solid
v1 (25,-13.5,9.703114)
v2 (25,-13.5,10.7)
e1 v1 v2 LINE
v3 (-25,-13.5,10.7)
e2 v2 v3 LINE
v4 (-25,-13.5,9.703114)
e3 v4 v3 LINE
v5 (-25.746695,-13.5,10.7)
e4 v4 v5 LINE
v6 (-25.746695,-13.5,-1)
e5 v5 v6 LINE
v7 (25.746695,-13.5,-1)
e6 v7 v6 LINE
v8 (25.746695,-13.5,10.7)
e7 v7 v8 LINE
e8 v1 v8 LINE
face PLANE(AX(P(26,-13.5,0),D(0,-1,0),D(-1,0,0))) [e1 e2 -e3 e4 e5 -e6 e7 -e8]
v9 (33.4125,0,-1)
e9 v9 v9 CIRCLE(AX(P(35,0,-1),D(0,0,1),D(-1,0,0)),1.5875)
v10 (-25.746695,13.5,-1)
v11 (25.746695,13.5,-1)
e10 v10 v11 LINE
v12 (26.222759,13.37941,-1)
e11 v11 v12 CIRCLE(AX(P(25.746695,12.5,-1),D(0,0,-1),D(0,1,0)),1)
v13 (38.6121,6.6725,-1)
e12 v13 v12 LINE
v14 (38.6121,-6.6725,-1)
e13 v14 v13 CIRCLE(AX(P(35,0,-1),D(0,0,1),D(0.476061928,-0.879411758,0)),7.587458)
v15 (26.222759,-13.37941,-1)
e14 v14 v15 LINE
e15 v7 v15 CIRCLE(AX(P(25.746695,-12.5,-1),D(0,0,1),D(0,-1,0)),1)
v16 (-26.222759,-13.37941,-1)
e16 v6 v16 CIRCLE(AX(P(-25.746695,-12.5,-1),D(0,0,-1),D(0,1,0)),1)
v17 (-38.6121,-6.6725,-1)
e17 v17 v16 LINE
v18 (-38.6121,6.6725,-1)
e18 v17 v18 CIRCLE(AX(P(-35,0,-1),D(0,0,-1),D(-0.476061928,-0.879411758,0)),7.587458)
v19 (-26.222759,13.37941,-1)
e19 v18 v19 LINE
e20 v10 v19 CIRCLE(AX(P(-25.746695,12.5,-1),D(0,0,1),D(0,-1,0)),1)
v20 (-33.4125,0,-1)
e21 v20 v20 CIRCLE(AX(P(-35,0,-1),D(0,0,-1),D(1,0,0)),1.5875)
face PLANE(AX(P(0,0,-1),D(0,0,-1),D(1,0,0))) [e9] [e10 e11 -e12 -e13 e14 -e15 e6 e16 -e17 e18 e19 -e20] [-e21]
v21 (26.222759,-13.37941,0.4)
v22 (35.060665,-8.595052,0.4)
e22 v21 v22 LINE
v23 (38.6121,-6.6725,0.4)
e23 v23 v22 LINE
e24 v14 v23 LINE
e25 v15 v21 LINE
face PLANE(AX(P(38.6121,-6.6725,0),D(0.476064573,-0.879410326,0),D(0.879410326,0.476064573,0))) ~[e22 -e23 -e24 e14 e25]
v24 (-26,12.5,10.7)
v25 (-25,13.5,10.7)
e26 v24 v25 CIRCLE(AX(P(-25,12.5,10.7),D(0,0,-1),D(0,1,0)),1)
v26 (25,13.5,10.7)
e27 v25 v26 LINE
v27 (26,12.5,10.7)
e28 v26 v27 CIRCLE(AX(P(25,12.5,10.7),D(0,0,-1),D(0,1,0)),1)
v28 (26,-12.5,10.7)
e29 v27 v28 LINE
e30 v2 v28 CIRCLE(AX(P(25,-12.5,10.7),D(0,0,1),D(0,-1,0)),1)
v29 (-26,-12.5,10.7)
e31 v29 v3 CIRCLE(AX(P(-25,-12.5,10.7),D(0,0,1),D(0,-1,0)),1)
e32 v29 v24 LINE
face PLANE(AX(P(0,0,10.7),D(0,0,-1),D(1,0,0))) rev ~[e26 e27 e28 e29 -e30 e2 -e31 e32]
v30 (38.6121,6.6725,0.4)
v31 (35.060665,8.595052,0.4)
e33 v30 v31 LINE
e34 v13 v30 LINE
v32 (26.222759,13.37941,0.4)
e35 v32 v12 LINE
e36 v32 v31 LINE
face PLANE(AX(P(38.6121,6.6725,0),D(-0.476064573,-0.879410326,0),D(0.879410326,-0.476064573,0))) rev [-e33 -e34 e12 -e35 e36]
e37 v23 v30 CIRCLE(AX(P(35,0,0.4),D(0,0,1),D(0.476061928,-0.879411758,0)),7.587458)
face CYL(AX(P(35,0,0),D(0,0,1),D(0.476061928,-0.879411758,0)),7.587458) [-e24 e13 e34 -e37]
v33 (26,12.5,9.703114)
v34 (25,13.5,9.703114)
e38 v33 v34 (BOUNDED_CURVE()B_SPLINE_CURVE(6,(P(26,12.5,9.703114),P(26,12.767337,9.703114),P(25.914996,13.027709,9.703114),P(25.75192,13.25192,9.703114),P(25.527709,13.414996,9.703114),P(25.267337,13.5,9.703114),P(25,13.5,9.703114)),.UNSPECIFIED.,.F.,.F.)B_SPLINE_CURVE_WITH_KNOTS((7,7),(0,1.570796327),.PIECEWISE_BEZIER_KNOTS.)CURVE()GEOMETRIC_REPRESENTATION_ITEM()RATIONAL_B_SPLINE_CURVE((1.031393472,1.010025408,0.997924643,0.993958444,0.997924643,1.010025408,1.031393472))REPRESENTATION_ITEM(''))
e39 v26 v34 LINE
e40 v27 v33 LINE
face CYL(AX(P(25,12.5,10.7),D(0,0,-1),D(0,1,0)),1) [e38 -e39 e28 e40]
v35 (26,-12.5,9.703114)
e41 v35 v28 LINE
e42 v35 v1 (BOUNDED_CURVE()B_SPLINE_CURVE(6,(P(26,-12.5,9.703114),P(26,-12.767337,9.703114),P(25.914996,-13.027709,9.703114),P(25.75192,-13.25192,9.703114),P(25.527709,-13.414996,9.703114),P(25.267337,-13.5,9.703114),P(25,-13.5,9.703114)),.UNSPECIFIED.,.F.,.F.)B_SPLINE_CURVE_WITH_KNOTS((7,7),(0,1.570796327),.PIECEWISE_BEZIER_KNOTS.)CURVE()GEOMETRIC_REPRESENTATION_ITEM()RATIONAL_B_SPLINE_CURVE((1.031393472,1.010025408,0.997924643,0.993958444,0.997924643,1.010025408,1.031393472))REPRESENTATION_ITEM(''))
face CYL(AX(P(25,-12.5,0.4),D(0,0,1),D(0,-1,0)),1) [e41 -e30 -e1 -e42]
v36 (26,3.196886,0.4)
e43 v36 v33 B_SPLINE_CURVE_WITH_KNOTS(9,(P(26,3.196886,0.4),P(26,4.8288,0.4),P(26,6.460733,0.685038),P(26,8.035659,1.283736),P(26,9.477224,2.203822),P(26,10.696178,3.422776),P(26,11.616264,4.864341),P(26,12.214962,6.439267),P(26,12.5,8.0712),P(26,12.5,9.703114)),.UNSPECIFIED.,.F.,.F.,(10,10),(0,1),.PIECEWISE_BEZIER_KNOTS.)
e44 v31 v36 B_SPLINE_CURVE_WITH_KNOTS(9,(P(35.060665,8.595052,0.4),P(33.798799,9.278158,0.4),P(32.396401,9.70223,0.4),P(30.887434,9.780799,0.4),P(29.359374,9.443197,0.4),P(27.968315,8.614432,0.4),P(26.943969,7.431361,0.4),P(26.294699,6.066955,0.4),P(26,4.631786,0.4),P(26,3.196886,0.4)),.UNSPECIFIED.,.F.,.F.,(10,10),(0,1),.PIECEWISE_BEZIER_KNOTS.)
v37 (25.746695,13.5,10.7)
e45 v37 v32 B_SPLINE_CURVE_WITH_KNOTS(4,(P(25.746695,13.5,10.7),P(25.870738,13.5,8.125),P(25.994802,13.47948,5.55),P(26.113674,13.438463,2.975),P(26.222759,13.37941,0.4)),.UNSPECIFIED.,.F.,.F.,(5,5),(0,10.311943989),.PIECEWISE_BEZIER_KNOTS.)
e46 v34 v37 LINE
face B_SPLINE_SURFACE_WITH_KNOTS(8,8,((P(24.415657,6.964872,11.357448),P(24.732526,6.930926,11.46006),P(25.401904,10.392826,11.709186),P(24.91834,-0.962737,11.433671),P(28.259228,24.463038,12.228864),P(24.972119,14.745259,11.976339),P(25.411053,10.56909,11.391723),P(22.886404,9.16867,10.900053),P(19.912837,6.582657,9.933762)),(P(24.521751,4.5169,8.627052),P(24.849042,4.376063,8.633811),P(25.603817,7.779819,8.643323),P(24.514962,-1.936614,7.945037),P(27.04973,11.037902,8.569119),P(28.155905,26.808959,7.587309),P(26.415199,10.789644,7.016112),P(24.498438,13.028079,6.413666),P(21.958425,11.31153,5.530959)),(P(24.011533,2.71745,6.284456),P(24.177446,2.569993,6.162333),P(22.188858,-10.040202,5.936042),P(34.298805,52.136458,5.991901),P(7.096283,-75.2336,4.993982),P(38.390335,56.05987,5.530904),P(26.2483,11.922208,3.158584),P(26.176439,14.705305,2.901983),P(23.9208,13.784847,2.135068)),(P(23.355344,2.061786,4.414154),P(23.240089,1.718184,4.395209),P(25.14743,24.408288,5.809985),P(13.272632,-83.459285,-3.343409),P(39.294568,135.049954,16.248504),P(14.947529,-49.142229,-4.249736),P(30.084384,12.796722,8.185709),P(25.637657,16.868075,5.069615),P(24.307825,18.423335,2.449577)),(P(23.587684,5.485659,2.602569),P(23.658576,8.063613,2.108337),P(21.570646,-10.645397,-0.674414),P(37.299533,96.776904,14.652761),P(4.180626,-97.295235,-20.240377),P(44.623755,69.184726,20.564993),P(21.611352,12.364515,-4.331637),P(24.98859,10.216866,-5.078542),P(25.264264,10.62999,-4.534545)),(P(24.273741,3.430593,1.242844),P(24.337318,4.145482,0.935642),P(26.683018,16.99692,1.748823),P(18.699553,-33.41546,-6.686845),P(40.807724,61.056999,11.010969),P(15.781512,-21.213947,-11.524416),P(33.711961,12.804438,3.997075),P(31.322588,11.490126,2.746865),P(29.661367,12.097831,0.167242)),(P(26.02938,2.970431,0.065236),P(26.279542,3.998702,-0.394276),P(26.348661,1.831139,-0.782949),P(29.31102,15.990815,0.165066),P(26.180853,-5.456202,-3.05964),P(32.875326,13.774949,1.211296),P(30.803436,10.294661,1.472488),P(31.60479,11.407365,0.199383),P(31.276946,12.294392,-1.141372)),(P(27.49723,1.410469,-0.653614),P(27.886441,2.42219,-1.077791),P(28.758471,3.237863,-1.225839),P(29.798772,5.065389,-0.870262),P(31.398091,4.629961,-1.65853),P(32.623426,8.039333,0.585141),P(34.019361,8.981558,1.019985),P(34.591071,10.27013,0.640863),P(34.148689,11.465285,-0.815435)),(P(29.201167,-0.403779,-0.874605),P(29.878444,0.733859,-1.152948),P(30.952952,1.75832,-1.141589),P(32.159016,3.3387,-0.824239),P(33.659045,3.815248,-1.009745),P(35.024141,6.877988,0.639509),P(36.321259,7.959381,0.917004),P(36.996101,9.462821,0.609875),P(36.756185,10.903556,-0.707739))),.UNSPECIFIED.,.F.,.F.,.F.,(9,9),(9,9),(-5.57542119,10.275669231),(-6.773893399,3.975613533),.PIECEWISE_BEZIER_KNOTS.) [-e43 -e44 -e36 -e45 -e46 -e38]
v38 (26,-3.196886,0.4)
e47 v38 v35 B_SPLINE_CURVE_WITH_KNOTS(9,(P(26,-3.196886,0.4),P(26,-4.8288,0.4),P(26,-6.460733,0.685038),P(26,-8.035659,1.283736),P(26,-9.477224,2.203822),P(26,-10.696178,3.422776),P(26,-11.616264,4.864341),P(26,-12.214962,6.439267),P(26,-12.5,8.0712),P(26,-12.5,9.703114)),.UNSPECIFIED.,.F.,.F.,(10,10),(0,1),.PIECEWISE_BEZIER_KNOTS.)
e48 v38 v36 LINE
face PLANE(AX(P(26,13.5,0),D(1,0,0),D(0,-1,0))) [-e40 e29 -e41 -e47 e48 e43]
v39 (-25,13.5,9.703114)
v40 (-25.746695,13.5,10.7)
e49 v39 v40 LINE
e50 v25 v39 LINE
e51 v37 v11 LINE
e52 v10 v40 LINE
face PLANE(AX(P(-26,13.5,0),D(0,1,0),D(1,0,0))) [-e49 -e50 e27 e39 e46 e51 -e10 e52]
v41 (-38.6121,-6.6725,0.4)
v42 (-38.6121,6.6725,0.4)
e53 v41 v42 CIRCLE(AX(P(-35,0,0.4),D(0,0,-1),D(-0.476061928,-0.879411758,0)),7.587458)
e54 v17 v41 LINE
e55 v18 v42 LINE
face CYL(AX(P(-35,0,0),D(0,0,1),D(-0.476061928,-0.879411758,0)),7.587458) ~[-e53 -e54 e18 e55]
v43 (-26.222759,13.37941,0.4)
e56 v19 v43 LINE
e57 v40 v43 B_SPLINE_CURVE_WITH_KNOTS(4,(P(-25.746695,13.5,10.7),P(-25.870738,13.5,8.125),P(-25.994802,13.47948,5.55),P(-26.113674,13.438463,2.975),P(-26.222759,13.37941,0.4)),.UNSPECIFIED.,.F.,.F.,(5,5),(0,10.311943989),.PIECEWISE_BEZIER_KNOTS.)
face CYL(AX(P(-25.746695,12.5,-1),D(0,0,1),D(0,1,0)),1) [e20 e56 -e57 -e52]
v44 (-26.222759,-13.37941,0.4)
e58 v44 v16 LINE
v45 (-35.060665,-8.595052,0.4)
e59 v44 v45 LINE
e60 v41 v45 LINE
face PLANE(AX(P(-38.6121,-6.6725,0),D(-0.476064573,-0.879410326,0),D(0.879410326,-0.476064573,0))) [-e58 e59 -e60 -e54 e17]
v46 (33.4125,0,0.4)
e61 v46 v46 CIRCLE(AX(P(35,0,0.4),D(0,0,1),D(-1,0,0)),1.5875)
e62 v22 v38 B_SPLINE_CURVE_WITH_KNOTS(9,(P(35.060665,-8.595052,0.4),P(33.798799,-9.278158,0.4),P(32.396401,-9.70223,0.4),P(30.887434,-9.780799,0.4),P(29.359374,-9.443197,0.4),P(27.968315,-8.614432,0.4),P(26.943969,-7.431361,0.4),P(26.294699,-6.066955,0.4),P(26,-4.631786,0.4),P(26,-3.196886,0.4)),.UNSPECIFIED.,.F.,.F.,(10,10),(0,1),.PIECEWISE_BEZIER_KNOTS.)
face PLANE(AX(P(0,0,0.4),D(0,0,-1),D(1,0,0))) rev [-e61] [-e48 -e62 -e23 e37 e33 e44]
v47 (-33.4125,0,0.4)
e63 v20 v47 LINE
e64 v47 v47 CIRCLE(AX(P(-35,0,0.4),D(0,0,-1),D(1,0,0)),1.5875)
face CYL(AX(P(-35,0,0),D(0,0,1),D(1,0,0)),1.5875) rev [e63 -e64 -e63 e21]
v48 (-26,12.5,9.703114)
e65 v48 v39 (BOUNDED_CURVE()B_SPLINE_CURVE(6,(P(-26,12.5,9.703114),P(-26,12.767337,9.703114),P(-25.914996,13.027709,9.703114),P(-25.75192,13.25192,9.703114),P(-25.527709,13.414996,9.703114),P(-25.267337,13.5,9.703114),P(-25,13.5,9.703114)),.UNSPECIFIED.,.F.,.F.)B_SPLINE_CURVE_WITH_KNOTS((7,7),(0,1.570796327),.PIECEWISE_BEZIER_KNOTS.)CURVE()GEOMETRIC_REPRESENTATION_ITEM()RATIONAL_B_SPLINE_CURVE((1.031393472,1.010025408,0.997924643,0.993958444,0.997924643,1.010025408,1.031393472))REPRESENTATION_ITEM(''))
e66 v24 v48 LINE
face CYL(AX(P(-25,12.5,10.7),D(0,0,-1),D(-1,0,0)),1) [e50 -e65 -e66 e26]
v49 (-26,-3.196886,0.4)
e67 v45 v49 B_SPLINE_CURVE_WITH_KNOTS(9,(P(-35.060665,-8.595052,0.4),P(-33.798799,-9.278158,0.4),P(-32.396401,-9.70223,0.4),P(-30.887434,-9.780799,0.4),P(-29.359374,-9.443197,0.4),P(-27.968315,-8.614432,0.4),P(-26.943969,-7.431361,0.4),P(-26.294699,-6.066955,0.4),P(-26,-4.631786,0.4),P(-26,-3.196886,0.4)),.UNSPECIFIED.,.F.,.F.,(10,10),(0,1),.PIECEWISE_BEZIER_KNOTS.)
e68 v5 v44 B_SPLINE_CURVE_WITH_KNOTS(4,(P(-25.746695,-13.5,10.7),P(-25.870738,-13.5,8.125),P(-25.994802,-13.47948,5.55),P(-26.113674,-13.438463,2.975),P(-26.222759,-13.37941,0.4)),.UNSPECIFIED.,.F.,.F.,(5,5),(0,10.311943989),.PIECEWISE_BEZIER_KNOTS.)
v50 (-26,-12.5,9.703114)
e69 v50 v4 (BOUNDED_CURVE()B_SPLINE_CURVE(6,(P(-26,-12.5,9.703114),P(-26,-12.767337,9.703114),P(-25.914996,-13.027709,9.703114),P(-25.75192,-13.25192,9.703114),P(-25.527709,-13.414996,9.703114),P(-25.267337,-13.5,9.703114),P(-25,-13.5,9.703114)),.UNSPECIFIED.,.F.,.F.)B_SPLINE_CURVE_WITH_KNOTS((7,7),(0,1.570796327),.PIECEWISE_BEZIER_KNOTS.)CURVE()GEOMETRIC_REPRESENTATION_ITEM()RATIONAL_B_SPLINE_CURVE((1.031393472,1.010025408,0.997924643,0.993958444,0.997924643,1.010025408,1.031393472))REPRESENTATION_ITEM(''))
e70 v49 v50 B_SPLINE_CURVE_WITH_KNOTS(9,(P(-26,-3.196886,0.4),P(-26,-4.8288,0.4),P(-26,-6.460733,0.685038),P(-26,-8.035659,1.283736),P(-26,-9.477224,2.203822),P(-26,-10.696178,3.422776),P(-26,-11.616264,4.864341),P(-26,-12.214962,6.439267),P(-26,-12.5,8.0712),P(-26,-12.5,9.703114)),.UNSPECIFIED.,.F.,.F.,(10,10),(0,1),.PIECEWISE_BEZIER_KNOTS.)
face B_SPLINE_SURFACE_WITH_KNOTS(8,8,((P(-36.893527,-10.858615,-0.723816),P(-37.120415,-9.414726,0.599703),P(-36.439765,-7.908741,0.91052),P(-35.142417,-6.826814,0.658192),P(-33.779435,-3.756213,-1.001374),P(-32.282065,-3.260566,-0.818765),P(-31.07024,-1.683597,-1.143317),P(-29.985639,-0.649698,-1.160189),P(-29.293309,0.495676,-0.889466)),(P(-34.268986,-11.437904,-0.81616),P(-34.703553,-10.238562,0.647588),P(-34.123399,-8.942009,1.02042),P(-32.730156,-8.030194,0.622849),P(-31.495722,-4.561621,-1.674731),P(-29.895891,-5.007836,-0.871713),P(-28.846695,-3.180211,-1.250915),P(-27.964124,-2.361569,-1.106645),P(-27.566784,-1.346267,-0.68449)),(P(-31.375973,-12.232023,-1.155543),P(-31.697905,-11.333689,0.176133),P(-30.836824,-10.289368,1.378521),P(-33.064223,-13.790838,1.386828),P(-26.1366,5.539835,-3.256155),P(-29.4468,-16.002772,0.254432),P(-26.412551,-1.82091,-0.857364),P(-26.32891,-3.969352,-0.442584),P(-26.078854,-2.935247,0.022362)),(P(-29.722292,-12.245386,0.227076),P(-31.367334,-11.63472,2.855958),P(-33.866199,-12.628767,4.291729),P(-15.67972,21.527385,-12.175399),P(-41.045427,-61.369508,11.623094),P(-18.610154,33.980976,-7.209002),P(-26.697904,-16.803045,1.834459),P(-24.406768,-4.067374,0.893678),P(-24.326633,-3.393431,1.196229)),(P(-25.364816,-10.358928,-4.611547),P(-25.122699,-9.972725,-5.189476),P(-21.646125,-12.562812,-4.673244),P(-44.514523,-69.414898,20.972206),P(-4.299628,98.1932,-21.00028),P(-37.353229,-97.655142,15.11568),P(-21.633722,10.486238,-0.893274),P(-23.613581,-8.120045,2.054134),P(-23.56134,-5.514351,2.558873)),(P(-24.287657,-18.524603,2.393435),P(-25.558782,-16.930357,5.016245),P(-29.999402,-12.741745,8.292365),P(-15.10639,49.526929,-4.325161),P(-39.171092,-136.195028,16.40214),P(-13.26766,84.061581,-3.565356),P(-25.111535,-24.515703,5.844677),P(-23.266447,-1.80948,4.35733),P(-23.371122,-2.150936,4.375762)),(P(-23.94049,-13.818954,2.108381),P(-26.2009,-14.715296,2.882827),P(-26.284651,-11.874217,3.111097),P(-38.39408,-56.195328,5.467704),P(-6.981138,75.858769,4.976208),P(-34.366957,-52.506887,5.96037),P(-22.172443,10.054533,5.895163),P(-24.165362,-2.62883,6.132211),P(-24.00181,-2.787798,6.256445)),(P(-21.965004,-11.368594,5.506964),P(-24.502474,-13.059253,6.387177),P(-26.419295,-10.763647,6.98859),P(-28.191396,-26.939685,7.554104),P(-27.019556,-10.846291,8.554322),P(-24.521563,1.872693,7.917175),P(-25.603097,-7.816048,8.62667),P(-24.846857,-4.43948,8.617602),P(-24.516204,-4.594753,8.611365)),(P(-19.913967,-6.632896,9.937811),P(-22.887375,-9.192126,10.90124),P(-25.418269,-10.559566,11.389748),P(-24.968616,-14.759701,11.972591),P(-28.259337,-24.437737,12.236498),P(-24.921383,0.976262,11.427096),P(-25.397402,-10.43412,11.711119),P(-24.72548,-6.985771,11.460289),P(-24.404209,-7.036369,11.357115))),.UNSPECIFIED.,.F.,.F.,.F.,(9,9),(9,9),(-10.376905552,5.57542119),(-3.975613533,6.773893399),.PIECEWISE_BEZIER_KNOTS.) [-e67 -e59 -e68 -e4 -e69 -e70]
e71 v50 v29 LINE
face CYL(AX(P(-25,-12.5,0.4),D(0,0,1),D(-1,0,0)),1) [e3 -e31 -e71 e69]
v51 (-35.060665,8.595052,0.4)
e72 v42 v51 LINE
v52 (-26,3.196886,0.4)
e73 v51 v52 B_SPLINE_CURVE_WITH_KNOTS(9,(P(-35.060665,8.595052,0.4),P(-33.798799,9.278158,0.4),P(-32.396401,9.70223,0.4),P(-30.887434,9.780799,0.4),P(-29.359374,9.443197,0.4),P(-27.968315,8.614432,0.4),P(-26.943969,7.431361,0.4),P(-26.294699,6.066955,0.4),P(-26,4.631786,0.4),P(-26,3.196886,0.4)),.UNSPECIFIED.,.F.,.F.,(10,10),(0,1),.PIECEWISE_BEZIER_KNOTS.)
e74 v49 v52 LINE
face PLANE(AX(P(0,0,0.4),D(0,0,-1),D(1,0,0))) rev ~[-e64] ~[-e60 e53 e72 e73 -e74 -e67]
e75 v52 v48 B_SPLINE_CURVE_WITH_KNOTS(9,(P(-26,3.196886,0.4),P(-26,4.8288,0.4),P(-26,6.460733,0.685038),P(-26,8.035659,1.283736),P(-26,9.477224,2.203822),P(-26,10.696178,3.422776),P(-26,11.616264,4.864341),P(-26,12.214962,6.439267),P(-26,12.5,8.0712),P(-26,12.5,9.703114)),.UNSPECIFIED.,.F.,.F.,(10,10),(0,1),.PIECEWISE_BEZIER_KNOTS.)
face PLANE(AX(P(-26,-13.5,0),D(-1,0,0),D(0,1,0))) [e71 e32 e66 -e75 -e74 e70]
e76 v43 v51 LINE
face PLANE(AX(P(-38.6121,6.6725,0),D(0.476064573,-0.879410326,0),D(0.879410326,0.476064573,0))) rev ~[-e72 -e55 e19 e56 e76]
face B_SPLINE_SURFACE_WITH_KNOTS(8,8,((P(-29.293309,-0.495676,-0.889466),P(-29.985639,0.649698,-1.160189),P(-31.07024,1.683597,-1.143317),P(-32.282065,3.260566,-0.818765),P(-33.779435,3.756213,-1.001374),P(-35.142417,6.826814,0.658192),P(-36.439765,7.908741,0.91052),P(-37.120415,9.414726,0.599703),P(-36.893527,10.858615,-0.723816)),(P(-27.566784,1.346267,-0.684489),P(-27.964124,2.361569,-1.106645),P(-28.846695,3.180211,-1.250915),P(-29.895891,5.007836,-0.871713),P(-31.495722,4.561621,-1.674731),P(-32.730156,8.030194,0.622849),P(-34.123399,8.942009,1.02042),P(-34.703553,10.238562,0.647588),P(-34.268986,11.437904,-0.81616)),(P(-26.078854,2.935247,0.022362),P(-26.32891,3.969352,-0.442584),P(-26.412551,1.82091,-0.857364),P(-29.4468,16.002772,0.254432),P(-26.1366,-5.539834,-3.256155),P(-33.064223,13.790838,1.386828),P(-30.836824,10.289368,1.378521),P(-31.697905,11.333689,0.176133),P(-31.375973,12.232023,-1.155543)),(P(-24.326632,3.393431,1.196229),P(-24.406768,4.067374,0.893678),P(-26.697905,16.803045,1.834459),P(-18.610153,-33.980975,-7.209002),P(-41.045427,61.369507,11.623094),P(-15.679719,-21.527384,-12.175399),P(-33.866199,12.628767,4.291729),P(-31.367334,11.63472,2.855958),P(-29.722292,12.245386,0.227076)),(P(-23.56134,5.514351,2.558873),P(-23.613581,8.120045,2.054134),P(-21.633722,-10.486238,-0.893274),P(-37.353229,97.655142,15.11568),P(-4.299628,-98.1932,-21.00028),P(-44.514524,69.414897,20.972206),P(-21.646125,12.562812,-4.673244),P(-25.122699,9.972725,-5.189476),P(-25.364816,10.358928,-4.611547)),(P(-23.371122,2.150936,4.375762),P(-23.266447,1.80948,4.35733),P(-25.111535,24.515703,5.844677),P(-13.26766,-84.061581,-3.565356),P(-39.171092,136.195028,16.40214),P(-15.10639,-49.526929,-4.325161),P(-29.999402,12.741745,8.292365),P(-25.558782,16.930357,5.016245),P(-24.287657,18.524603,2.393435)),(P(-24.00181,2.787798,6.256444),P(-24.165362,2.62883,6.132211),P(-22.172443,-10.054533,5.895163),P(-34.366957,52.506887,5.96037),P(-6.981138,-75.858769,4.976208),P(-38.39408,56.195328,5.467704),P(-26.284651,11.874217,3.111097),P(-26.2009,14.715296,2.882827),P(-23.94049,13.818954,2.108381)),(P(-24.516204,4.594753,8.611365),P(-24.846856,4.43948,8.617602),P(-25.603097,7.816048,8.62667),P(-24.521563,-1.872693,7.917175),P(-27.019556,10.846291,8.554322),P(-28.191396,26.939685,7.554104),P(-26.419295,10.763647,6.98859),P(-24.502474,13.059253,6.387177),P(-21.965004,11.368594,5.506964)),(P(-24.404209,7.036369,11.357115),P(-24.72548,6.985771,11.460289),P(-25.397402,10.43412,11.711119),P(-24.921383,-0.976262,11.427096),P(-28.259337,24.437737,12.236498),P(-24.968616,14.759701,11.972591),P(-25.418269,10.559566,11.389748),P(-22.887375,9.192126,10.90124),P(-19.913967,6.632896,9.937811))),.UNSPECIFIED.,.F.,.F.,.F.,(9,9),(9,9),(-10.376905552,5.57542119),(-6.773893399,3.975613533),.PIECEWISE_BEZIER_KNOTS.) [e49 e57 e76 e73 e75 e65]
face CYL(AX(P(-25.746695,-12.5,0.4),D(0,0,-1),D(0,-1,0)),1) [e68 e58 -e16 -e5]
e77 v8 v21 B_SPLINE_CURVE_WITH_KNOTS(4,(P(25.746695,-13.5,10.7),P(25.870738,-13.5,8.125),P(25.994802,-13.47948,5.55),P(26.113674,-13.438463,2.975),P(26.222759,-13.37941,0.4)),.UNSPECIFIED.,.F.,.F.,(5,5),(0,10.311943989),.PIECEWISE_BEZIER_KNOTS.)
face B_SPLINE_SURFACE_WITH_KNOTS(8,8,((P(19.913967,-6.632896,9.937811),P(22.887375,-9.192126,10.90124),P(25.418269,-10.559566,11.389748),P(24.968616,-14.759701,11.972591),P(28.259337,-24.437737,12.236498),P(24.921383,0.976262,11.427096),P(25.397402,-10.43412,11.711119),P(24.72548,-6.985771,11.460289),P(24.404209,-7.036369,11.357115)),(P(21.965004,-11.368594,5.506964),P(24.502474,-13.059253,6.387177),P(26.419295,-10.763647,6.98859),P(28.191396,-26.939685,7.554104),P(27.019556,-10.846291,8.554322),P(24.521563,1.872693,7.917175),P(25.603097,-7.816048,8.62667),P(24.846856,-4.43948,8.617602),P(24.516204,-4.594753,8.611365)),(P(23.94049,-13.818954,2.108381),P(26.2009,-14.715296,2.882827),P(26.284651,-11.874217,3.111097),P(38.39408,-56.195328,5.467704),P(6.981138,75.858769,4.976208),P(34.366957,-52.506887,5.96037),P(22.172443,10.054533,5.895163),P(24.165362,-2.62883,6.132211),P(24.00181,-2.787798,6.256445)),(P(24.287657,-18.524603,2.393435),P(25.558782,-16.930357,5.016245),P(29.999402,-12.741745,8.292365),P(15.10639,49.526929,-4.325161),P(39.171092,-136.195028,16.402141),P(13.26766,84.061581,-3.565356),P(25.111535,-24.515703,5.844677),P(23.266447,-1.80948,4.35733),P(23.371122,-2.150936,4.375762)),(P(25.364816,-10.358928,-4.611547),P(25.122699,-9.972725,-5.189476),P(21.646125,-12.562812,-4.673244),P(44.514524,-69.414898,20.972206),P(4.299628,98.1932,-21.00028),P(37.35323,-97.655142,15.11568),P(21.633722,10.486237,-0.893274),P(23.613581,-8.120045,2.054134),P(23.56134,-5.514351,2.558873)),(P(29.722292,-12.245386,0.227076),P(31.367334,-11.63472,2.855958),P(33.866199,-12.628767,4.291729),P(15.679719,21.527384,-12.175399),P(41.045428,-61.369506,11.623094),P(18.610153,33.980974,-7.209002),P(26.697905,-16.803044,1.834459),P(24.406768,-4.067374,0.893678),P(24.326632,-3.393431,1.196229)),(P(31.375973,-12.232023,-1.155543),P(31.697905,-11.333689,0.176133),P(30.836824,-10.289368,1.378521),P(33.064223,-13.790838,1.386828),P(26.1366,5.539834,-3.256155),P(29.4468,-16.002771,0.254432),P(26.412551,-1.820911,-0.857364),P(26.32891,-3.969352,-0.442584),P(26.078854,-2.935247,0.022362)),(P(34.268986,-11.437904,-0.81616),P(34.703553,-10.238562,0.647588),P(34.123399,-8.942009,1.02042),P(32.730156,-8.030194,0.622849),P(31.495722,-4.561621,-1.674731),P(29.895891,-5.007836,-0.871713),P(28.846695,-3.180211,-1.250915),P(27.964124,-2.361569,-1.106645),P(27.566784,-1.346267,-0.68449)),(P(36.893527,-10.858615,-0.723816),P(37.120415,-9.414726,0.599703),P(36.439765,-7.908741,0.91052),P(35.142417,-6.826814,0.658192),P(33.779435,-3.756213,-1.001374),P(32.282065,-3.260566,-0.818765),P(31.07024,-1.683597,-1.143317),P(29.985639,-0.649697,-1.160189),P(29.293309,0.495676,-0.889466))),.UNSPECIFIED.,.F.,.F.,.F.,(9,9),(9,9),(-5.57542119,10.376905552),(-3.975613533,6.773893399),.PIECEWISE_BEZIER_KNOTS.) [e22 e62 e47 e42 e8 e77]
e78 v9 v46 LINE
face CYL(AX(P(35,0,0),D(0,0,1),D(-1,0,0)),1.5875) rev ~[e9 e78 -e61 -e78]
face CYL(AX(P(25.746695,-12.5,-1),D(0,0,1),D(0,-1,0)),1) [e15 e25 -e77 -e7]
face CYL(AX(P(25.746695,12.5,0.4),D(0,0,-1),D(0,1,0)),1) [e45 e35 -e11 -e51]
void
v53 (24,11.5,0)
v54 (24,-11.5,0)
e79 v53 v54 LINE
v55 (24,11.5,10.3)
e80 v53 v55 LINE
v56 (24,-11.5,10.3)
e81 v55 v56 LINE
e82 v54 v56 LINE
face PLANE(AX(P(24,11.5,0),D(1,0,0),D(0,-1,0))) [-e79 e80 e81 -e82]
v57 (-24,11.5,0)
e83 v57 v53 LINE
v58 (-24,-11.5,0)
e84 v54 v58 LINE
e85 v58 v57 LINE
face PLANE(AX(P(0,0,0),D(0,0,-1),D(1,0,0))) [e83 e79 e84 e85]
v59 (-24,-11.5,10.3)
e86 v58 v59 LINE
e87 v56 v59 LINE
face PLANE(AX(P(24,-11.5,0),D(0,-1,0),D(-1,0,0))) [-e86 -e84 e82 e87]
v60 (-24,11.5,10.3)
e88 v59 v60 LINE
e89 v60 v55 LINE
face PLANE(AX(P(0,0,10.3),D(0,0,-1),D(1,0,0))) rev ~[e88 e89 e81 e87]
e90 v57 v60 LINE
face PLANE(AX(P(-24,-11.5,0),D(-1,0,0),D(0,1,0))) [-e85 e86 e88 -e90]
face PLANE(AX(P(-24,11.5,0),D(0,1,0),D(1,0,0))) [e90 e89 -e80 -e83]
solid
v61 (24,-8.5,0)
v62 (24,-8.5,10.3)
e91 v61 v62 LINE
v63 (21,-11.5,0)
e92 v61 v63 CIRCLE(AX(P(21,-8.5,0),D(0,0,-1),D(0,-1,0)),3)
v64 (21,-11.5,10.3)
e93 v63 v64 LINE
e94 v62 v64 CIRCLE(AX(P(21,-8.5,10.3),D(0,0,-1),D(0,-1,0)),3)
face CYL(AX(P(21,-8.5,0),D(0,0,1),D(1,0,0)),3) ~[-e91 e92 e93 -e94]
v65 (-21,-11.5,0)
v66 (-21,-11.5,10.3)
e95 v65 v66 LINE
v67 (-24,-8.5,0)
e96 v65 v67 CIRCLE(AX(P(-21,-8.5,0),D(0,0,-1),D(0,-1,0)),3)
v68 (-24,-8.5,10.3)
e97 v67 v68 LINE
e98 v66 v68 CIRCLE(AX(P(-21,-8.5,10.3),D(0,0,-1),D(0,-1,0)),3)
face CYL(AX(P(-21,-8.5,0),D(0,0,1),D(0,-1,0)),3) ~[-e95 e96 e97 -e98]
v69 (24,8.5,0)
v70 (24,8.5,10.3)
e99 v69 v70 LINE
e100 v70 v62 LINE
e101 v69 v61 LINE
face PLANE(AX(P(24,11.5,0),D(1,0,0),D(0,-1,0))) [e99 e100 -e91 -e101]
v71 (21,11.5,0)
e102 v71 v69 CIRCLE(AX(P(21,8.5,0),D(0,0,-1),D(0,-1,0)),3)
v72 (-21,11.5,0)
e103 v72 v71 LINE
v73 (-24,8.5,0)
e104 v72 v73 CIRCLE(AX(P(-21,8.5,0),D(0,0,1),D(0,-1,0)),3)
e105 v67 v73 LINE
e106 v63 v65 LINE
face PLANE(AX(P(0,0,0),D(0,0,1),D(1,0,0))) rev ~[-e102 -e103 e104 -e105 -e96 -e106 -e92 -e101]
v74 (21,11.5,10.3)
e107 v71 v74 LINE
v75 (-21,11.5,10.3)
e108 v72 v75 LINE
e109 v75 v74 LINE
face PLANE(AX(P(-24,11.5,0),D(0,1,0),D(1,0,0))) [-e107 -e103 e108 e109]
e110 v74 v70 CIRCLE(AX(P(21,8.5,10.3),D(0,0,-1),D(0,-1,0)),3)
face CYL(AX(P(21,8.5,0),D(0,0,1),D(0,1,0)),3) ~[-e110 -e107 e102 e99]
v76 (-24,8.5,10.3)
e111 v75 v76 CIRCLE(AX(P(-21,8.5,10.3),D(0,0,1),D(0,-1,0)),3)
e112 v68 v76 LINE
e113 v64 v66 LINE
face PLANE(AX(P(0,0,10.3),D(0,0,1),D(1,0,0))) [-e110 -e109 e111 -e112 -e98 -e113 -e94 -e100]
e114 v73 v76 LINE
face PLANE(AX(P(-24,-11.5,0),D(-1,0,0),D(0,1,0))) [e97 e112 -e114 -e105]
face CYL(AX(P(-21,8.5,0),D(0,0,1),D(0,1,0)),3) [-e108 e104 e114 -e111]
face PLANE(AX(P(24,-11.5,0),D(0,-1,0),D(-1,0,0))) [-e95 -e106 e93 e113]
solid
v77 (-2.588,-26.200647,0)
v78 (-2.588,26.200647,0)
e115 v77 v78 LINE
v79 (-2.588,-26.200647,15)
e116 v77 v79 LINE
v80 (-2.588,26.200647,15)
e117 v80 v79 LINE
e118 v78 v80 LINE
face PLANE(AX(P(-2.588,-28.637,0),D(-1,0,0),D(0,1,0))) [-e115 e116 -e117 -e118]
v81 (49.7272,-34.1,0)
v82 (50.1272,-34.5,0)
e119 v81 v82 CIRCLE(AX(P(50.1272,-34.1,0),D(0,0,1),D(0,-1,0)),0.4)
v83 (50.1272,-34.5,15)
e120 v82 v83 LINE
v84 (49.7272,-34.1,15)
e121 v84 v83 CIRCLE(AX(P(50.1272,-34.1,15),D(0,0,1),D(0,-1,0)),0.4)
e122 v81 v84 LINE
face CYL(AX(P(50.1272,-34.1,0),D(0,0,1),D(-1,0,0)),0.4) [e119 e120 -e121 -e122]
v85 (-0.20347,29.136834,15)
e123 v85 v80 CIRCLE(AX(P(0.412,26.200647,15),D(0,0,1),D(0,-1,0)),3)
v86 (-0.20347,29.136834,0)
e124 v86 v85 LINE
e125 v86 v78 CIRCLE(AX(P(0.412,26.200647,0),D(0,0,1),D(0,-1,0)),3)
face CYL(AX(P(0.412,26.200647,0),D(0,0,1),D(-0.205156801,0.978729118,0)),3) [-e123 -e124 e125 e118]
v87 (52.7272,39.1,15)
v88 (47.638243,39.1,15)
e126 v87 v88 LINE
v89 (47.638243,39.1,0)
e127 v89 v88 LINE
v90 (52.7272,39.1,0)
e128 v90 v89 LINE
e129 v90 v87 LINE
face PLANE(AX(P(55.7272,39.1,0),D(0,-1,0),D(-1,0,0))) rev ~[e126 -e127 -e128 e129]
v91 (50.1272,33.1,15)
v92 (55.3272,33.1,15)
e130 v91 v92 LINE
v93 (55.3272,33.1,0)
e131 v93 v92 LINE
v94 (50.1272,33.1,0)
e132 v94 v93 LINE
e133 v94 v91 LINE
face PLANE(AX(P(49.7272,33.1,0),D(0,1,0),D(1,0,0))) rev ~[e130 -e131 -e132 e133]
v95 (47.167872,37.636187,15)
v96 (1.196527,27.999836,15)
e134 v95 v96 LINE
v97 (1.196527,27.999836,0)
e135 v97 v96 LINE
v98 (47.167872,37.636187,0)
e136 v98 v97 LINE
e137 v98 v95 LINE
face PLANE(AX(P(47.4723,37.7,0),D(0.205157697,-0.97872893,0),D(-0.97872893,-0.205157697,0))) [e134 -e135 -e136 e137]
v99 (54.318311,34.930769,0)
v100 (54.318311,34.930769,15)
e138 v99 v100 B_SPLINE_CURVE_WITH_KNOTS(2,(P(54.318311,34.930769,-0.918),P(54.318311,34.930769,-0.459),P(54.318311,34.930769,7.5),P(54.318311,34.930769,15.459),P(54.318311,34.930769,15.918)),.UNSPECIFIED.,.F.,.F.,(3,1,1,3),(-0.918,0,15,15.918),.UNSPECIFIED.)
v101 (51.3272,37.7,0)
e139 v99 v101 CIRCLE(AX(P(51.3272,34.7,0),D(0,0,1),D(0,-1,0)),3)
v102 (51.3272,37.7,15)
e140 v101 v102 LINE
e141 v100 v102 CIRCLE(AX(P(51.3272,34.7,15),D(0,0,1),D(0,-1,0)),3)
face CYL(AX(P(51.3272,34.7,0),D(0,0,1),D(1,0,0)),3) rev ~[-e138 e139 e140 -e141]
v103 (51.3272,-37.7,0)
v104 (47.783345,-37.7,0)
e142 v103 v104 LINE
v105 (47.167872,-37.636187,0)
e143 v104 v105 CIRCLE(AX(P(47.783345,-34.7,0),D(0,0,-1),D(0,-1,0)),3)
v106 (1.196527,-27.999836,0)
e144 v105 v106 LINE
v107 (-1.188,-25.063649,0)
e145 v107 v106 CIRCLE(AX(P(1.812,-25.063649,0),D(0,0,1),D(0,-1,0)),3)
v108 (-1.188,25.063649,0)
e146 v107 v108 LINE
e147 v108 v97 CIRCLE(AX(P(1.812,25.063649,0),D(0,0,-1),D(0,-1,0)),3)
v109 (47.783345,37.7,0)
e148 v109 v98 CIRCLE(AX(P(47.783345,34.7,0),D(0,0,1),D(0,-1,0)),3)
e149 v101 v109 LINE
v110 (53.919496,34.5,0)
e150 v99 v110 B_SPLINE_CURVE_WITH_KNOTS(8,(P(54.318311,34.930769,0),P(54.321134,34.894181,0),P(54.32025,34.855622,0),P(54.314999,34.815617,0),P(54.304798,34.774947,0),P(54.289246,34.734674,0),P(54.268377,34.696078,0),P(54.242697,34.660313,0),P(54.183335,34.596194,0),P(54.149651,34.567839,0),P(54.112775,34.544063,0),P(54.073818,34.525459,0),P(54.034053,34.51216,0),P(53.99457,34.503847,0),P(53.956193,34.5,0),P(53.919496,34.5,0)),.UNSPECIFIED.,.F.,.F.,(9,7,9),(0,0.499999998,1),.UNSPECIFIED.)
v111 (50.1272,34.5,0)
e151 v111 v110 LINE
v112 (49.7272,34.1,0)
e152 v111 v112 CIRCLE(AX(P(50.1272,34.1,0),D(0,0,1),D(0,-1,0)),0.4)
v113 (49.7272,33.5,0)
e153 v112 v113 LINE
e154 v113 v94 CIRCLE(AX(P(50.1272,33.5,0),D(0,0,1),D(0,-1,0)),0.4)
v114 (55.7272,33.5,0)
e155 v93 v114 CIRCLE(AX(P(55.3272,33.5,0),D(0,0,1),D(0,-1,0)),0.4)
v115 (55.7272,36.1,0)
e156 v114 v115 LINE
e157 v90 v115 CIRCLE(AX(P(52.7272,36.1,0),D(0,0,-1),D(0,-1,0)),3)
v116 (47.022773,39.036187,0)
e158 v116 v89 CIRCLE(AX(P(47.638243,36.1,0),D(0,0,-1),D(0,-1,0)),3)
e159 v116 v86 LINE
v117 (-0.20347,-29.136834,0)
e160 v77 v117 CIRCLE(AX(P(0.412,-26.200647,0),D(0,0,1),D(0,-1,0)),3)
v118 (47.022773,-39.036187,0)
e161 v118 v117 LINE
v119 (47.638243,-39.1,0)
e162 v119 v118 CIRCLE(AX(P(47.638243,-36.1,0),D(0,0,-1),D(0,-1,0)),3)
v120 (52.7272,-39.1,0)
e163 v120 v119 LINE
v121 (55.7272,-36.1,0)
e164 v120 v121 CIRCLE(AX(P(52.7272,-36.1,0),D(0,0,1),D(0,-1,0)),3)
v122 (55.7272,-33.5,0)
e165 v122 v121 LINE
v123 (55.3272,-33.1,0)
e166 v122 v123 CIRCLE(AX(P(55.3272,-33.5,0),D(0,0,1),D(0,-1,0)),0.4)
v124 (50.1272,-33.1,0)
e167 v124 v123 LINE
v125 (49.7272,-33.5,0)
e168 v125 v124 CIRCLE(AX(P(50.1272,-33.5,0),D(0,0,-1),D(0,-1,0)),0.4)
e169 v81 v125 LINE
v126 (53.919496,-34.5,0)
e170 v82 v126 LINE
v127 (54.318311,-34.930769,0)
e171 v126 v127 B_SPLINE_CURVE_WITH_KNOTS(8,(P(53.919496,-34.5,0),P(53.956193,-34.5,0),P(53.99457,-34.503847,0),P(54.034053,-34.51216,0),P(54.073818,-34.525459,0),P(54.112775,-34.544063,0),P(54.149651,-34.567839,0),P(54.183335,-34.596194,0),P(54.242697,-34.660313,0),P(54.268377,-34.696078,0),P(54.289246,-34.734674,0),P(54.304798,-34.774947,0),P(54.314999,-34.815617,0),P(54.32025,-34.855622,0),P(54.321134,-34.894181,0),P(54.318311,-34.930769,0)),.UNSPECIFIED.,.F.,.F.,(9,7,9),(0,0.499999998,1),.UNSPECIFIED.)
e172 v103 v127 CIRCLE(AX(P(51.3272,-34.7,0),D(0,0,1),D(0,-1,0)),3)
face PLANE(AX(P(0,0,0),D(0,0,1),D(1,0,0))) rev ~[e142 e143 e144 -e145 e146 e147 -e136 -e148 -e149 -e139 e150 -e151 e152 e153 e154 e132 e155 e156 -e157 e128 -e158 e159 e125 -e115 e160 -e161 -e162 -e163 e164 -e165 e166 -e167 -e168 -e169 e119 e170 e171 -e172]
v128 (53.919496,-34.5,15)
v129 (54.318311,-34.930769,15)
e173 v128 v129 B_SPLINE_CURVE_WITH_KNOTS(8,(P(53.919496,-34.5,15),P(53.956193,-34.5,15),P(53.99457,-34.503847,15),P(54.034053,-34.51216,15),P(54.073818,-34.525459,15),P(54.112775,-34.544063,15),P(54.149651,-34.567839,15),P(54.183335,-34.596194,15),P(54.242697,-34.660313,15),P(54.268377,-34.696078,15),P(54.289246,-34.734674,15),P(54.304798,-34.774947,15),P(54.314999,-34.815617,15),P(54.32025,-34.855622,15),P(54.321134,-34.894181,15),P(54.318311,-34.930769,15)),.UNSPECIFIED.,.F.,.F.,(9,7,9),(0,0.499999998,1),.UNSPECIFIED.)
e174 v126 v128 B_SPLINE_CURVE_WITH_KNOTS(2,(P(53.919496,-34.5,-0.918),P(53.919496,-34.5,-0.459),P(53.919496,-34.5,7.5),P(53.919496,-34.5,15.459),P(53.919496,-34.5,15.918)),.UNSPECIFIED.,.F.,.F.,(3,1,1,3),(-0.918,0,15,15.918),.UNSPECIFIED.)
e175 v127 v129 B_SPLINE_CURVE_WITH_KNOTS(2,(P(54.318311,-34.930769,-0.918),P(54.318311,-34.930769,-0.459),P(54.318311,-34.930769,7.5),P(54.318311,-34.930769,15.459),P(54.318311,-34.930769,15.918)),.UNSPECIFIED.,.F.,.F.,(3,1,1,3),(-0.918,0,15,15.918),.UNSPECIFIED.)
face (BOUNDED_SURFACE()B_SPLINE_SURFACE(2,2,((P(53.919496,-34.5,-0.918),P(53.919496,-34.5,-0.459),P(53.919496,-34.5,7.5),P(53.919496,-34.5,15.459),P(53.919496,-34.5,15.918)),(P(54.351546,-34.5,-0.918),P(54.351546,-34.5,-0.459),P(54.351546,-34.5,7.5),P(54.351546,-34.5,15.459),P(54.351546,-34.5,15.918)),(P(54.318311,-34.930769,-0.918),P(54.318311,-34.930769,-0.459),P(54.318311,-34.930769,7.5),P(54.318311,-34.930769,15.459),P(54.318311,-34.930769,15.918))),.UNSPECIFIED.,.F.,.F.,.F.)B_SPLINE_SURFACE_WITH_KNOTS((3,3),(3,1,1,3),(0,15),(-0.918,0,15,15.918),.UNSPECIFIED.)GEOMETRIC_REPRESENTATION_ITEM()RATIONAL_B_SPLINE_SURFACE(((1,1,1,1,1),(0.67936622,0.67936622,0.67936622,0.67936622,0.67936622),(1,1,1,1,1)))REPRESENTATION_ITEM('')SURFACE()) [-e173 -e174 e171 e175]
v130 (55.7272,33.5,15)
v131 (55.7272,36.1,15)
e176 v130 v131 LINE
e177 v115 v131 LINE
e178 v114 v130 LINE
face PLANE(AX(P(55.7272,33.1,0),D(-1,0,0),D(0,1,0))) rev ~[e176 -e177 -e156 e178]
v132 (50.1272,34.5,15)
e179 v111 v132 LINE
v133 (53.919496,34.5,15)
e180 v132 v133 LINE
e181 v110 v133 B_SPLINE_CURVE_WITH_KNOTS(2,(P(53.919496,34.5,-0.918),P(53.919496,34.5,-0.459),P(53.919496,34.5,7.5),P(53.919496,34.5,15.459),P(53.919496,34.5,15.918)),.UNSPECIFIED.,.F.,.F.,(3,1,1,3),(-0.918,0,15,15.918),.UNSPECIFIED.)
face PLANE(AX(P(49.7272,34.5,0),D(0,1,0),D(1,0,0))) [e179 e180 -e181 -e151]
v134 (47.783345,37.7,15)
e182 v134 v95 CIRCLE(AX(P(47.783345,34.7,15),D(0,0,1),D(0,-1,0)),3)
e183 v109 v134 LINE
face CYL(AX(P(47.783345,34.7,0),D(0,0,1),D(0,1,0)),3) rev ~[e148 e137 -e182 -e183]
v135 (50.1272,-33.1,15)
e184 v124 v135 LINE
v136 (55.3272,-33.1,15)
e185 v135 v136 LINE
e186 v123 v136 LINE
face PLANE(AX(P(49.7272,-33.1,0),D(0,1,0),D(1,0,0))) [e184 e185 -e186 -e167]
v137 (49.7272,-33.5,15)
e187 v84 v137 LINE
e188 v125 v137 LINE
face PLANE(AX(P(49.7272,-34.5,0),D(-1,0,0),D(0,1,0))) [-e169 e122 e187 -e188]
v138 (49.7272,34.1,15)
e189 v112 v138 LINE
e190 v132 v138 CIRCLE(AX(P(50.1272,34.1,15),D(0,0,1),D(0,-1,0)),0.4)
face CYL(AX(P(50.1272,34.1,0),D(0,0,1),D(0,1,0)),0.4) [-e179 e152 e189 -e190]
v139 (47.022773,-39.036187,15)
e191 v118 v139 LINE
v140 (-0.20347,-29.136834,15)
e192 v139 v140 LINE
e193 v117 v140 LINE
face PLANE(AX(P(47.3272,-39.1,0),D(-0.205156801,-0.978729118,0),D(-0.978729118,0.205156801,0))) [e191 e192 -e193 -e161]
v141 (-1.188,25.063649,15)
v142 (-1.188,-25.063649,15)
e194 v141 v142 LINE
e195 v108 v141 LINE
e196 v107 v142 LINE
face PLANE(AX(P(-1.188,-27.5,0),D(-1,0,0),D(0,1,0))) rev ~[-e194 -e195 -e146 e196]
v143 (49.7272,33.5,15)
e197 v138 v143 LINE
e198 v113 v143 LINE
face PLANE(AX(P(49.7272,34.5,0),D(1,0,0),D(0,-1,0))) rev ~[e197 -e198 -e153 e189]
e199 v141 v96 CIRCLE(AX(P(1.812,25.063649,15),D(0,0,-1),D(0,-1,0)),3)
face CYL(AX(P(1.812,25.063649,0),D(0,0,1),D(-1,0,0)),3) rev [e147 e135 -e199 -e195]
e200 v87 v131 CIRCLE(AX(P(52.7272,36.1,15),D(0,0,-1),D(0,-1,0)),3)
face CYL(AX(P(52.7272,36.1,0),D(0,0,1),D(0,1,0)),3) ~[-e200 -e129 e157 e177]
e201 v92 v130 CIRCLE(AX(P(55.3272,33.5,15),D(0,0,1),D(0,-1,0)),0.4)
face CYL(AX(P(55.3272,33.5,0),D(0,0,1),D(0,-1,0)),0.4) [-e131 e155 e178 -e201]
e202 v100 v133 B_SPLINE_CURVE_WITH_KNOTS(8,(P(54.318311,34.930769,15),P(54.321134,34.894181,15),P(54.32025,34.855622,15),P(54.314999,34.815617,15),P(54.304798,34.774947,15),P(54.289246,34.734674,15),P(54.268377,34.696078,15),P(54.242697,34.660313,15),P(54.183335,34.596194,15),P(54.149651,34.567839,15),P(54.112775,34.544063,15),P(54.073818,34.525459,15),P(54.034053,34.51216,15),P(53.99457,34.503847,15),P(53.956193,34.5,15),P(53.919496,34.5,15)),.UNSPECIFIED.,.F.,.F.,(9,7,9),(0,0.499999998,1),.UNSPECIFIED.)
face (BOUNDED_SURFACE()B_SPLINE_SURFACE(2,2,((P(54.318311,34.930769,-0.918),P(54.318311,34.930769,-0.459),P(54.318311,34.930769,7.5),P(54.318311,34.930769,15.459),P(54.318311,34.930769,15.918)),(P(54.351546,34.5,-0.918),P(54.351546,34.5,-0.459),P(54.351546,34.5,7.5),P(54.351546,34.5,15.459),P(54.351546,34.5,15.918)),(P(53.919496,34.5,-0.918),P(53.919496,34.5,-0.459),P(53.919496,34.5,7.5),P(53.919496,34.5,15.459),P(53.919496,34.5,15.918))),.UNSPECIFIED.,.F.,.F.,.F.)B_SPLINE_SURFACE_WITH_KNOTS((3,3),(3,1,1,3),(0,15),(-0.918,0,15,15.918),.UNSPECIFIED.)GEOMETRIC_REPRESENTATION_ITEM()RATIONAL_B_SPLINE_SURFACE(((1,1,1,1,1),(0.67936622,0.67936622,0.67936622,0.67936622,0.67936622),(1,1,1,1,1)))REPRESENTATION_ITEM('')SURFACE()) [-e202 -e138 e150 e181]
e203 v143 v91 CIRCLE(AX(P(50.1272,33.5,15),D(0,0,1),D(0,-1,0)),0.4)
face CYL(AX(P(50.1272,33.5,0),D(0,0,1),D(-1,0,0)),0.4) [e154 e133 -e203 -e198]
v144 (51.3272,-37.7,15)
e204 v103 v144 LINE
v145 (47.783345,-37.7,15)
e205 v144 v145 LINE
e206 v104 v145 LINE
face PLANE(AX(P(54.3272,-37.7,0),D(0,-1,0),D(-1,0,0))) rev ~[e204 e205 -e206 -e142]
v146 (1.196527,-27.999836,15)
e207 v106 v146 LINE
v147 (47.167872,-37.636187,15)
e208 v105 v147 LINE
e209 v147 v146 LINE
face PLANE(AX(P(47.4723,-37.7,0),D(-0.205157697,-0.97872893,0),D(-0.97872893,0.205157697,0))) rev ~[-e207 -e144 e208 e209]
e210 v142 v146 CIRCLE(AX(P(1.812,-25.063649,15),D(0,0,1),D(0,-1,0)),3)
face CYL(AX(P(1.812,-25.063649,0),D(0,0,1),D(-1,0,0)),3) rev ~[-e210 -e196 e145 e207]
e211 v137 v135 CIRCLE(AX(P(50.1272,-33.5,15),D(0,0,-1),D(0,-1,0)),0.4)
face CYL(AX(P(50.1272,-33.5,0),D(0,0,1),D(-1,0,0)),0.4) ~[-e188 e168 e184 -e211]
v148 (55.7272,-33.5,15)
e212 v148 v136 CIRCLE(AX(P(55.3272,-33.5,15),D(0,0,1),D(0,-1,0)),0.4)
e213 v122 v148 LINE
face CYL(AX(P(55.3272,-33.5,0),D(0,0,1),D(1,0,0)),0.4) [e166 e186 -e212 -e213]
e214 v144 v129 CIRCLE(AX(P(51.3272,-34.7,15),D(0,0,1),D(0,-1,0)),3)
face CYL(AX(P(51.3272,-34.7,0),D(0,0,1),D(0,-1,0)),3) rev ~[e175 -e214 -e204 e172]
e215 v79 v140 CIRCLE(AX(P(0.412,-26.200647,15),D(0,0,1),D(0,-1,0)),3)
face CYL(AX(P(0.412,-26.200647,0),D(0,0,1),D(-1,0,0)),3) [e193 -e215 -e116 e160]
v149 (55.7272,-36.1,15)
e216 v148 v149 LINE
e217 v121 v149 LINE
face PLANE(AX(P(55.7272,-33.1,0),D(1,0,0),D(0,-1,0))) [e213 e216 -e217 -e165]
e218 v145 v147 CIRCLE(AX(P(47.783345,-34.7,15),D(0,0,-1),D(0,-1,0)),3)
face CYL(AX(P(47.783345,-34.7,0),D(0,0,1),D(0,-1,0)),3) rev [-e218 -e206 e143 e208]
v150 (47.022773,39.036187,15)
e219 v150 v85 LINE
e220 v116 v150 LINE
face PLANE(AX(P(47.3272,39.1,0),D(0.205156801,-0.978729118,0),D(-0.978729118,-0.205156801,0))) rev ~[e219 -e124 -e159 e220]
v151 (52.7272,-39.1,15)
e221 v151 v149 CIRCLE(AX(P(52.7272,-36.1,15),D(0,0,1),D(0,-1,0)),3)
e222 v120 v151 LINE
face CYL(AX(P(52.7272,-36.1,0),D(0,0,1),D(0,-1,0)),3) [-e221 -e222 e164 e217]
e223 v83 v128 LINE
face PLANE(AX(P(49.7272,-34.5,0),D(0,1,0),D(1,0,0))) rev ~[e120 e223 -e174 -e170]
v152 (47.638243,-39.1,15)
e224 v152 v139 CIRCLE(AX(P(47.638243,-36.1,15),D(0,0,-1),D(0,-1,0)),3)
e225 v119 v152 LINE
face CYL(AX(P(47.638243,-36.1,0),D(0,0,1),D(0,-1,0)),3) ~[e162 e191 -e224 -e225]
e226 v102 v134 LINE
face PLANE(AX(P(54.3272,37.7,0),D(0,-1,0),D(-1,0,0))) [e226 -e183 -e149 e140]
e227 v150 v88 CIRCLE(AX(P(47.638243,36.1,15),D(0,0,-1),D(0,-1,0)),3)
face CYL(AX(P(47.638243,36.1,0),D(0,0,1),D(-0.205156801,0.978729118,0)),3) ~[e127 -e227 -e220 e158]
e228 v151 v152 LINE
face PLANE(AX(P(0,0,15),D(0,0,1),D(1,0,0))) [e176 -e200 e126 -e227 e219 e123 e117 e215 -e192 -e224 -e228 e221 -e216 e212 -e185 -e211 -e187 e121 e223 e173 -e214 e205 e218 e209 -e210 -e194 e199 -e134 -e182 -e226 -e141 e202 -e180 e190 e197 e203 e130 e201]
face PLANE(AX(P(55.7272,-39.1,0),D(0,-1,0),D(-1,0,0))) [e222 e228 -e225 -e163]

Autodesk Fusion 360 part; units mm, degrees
sketch "Sketch1" plane through (0, 0, 0) normal (0, 0, 1) x (1, 0, 0)
  line L0 (-24, -4) -> (-24, -6.8)
  line L1 (-24, -6.8) -> (-21, -6.8)
  line L2 (-21, -6.8) -> (-21, -4.8)
  line L3 (-21, -4.8) -> (-3, -4.8)
  line L4 (-3, -4.8) -> (-3, -6)
  line L5 (-3, -6) -> (-9, -6)
  line L6 (-9, -6) -> (-9, -8)
  line L7 (-9, -8) -> (0, -8)
  line L8 (0, -8) -> (0, 0)
  line L9 (-24, -4) -> (-25.3856, -4)
  line L10 (-25.3856, -4) -> (-24, -4.8)
  line L11 (0, -4) -> (0, 0)
  line L12 (0, 0) -> (-14, 0)
  line L13 (-24, -4) -> (-14, -4)
  line L14 (-14, -4) -> (-14, 0)
  dimension "d1" = 6
  dimension "d3" = 3
  dimension "d5" = 1.2
  dimension "d6" = 2
  dimension "d8" = 2
  dimension "d9" = 3
  dimension "d10" = 18
  dimension "d13" = 60
  dimension "d15" = 2.8
  dimension "d16" = 8
  dimension "d17" = 4
  dimension "d18" = 14
extrude "Extrude1" add sketch "Sketch1" along normal blind 2.8 contours L0 L1 L2 L3 L4 L5 L6 L7 L8 L11 L12 L13 L14 makes body 1
sketch "Magnet" plane through (0, 0, 0) normal (0, 0, 1) x (1, 0, 0) in component "v2"
  line L0 (-24, 11.5) -> (24, 11.5)
  line L1 (24, 11.5) -> (24, -11.5)
  line L2 (24, -11.5) -> (-24, -11.5)
  line L3 (-24, -11.5) -> (-24, 11.5)
  line L4 (-24, 11.5) -> (24, -11.5) construction
  line L5 (24, 11.5) -> (-24, -11.5) construction
  dimension "d19" = 48
  dimension "d20" = 23
extrude "Extrude1'" add sketch "Magnet" along normal blind 10.3 separate body makes body 2 in component "v2"
sketch "Magnet Housing" plane through (0, 0, 0) normal (0, 0, -1) x (1, 0, 0) in component "v2"
  line L0 (24, 11.5) -> (-24, 11.5)
  line L1 (-24, 11.5) -> (-24, -11.5)
  line L2 (-24, -11.5) -> (24, -11.5)
  line L3 (24, -11.5) -> (24, 11.5)
  line L4 (-26, -13.5) -> (26, -13.5)
  line L5 (26, -13.5) -> (26, 13.5)
  line L6 (26, 13.5) -> (-26, 13.5)
  line L7 (-26, 13.5) -> (-26, -13.5)
  line L8 (-26, 0) -> (-36.3759, 0) construction
  circle A0 centre (-35, 0) radius 1.5875
  arc A1 (-38.6121, 6.6725) -> (-38.6121, -6.6725) centre (-35, 0) ccw
  line L9 (-38.6121, 6.6725) -> (-26, 13.5)
  line L10 (-38.6121, -6.6725) -> (-26, -13.5)
  dimension "d25" = 2
  dimension "d26" = 3.175
  dimension "d40" = 9
  dimension "d41" = 6
extrude "Extrude2" add sketch "Magnet Housing" against normal up to surface (10.3 mm away) separate body contours L4 L5 L6 L7 makes body 3 in component "v2"
extrude "Extrude3" add sketch "Magnet Housing" along normal blind 1 and the other way blind 0.4 contours L7 A1 L9 L10 bodies 3 in component "v2"
mirror "Mirror1" about plane through (0, 0, 0) normal (1, 0, 0) of "Extrude3" in component "v2"
extrude "Extrude4" add sketch "Magnet Housing" along normal up to surface (1 mm away) contours L0 L1 L2 L3 | L4 L5 L6 L7 bodies 3 in component "v2"
extrude "Extrude5" add sketch "Magnet Housing" against normal blind 0.4 from surface at -10.3 contours L0 L1 L2 L3 | L4 L5 L6 L7 bodies 3 in component "v2"
fillet "Fillet2" radius 1 8 edges at (-26, 13.5, -0.3) (26, 13.5, -0.3) (26, -13.5, -0.3) (-26, -13.5, -0.3) (-26, -13.5, 5.55) (-26, 13.5, 5.55) (26, 13.5, 5.55) (26, -13.5, 5.55) on bodies 3 in component "v2"
fillet "Fillet1" radius 3 4 edges at (-24, 11.5, 5.15) (-24, -11.5, 5.15) (24, -11.5, 5.15) (24, 11.5, 5.15) on bodies 2 in component "v2"
copy_body "Body->Comp1" bodies 2 removing the originals makes body 4 in component "Magnet"
sketch "Sketch1 (2)" plane through (0, 0, 0) normal (0, 0, 1) x (1, 0, 0) in component "v3"
  line L0 (0, 0) -> (0, 17.5)
  arc A0 (29, 30.5) -> (0, 17.5) centre (249.8025, -500.9056) ccw
  arc A1 (54, 35.5) -> (29, 30.5) centre (53.5596, -27.2979) ccw
  line L1 (20, 0) -> (2.5, 0)
  arc A2 (29, -30.5) -> (54, -35.5) centre (53.5596, 27.2979) ccw
  arc A3 (0, -17.5) -> (29, -30.5) centre (249.8025, 500.9056) ccw
  line L2 (0, 0) -> (0, -17.5)
  arc A4 (54.0026, 35.81) -> (28.8799, 30.7858) centre (53.5596, -27.2979) ccw
  arc A5 (28.8799, 30.7858) -> (-0.31, 17.6947) centre (249.8025, -500.9056) ccw
  line L3 (-0.31, -0.3622) -> (-0.31, 17.6947)
  line L4 (-0.31, -0.3622) -> (-0.31, -17.6947)
  arc A6 (-0.31, -17.6947) -> (28.8799, -30.7858) centre (249.8025, 500.9056) ccw
  arc A7 (28.8799, -30.7858) -> (54.0026, -35.81) centre (53.5596, 27.2979) ccw
  line L5 (54.0026, -35.81) -> (54, -35.5)
  line L6 (54, 35.5) -> (54.0026, 35.81)
  line L7 (49.7272, 34.5) -> (54.3272, 34.5)
  line L8 (54.3272, 34.5) -> (54.3272, 37.7)
  line L9 (54.3272, 37.7) -> (47.4723, 37.7)
  line L10 (47.4723, 37.7) -> (-1.188, 27.5)
  line L11 (-1.188, 27.5) -> (-1.188, 0)
  line L12 (49.7272, 33.1) -> (55.7272, 33.1)
  line L13 (55.7272, 33.1) -> (55.7272, 39.1)
  line L14 (55.7272, 39.1) -> (47.3272, 39.1)
  line L15 (47.3272, 39.1) -> (-2.588, 28.637)
  line L16 (-2.588, 28.637) -> (-2.588, 0.0085)
  line L17 (49.7272, 34.5) -> (49.7272, 33.1)
  line L18 (-2.588, -28.637) -> (-2.588, -0.0085)
  line L19 (-1.188, -27.5) -> (-1.188, 0)
  line L20 (47.3272, -39.1) -> (-2.588, -28.637)
  line L21 (47.4723, -37.7) -> (-1.188, -27.5)
  line L22 (49.7272, -33.1) -> (55.7272, -33.1)
  line L23 (49.7272, -34.5) -> (49.7272, -33.1)
  line L24 (49.7272, -34.5) -> (54.3272, -34.5)
  line L25 (55.7272, -33.1) -> (55.7272, -39.1)
  line L26 (54.3272, -34.5) -> (54.3272, -37.7)
  line L27 (55.7272, -39.1) -> (47.3272, -39.1)
  line L28 (54.3272, -37.7) -> (47.4723, -37.7)
  line L29 (-2.588, -0.0085) -> (-2.588, 0.0085)
  dimension "d44" = 54
  dimension "d45" = 25
  dimension "d46" = 35
  dimension "d47" = 71
  dimension "d48" = 61
  dimension "d49" = 0.31
  dimension "d50" = 1.4
  dimension "d52" = 51
  dimension "d53" = 8.4
  dimension "d54" = 6
  dimension "d55" = 6
  dimension "d56" = 1
  dimension "d61" = 55
extrude "Extrude2'" add sketch "Sketch1 (2)" along normal blind 15 separate body contours L7 L8 L9 L10 L11 L12 L13 L14 L15 L16 L17 L18 L19 L20 L21 L22 L23 L24 L25 L26 L27 L28 L29 makes body 5 in component "v3"
fillet "Fillet2'" radius 3 12 edges at (-1.188, -27.5, 7.5) (-1.188, 27.5, 7.5) (-2.588, 28.637, 7.5) (-2.588, -28.637, 7.5) (55.7272, 39.1, 7.5) (54.3272, 37.7, 7.5) (55.7272, -39.1, 7.5) (47.3272, -39.1, 7.5) (47.4723, -37.7, 7.5) (54.3272, -37.7, 7.5) (47.3272, 39.1, 7.5) (47.4723, 37.7, 7.5) on bodies 5 in component "v3"
fillet "Fillet2'" radius 0.4 8 edges at (55.7272, 33.1, 7.5) (55.7272, -33.1, 7.5) (54.3272, -34.5, 7.5) (54.3272, 34.5, 7.5) (49.7272, 34.5, 7.5) (49.7272, 33.1, 7.5) (49.7272, -33.1, 7.5) (49.7272, -34.5, 7.5) on bodies 5 in component "v3"
component "v2" placed x (1, 0, 0) y (0, 1, 0) z (0, 0, 1) at (0, 0, 0)
component "v3" placed x (1, 0, 0) y (0, 1, 0) z (0, 0, 1) at (0, 0, 0)
component "Magnet" placed x (1, 0, 0) y (0, 1, 0) z (0, 0, 1) at (0, 0, 0) in component "v2"
hidden bodies 1
equation "d26 = 1 / 8 * 1 in"
